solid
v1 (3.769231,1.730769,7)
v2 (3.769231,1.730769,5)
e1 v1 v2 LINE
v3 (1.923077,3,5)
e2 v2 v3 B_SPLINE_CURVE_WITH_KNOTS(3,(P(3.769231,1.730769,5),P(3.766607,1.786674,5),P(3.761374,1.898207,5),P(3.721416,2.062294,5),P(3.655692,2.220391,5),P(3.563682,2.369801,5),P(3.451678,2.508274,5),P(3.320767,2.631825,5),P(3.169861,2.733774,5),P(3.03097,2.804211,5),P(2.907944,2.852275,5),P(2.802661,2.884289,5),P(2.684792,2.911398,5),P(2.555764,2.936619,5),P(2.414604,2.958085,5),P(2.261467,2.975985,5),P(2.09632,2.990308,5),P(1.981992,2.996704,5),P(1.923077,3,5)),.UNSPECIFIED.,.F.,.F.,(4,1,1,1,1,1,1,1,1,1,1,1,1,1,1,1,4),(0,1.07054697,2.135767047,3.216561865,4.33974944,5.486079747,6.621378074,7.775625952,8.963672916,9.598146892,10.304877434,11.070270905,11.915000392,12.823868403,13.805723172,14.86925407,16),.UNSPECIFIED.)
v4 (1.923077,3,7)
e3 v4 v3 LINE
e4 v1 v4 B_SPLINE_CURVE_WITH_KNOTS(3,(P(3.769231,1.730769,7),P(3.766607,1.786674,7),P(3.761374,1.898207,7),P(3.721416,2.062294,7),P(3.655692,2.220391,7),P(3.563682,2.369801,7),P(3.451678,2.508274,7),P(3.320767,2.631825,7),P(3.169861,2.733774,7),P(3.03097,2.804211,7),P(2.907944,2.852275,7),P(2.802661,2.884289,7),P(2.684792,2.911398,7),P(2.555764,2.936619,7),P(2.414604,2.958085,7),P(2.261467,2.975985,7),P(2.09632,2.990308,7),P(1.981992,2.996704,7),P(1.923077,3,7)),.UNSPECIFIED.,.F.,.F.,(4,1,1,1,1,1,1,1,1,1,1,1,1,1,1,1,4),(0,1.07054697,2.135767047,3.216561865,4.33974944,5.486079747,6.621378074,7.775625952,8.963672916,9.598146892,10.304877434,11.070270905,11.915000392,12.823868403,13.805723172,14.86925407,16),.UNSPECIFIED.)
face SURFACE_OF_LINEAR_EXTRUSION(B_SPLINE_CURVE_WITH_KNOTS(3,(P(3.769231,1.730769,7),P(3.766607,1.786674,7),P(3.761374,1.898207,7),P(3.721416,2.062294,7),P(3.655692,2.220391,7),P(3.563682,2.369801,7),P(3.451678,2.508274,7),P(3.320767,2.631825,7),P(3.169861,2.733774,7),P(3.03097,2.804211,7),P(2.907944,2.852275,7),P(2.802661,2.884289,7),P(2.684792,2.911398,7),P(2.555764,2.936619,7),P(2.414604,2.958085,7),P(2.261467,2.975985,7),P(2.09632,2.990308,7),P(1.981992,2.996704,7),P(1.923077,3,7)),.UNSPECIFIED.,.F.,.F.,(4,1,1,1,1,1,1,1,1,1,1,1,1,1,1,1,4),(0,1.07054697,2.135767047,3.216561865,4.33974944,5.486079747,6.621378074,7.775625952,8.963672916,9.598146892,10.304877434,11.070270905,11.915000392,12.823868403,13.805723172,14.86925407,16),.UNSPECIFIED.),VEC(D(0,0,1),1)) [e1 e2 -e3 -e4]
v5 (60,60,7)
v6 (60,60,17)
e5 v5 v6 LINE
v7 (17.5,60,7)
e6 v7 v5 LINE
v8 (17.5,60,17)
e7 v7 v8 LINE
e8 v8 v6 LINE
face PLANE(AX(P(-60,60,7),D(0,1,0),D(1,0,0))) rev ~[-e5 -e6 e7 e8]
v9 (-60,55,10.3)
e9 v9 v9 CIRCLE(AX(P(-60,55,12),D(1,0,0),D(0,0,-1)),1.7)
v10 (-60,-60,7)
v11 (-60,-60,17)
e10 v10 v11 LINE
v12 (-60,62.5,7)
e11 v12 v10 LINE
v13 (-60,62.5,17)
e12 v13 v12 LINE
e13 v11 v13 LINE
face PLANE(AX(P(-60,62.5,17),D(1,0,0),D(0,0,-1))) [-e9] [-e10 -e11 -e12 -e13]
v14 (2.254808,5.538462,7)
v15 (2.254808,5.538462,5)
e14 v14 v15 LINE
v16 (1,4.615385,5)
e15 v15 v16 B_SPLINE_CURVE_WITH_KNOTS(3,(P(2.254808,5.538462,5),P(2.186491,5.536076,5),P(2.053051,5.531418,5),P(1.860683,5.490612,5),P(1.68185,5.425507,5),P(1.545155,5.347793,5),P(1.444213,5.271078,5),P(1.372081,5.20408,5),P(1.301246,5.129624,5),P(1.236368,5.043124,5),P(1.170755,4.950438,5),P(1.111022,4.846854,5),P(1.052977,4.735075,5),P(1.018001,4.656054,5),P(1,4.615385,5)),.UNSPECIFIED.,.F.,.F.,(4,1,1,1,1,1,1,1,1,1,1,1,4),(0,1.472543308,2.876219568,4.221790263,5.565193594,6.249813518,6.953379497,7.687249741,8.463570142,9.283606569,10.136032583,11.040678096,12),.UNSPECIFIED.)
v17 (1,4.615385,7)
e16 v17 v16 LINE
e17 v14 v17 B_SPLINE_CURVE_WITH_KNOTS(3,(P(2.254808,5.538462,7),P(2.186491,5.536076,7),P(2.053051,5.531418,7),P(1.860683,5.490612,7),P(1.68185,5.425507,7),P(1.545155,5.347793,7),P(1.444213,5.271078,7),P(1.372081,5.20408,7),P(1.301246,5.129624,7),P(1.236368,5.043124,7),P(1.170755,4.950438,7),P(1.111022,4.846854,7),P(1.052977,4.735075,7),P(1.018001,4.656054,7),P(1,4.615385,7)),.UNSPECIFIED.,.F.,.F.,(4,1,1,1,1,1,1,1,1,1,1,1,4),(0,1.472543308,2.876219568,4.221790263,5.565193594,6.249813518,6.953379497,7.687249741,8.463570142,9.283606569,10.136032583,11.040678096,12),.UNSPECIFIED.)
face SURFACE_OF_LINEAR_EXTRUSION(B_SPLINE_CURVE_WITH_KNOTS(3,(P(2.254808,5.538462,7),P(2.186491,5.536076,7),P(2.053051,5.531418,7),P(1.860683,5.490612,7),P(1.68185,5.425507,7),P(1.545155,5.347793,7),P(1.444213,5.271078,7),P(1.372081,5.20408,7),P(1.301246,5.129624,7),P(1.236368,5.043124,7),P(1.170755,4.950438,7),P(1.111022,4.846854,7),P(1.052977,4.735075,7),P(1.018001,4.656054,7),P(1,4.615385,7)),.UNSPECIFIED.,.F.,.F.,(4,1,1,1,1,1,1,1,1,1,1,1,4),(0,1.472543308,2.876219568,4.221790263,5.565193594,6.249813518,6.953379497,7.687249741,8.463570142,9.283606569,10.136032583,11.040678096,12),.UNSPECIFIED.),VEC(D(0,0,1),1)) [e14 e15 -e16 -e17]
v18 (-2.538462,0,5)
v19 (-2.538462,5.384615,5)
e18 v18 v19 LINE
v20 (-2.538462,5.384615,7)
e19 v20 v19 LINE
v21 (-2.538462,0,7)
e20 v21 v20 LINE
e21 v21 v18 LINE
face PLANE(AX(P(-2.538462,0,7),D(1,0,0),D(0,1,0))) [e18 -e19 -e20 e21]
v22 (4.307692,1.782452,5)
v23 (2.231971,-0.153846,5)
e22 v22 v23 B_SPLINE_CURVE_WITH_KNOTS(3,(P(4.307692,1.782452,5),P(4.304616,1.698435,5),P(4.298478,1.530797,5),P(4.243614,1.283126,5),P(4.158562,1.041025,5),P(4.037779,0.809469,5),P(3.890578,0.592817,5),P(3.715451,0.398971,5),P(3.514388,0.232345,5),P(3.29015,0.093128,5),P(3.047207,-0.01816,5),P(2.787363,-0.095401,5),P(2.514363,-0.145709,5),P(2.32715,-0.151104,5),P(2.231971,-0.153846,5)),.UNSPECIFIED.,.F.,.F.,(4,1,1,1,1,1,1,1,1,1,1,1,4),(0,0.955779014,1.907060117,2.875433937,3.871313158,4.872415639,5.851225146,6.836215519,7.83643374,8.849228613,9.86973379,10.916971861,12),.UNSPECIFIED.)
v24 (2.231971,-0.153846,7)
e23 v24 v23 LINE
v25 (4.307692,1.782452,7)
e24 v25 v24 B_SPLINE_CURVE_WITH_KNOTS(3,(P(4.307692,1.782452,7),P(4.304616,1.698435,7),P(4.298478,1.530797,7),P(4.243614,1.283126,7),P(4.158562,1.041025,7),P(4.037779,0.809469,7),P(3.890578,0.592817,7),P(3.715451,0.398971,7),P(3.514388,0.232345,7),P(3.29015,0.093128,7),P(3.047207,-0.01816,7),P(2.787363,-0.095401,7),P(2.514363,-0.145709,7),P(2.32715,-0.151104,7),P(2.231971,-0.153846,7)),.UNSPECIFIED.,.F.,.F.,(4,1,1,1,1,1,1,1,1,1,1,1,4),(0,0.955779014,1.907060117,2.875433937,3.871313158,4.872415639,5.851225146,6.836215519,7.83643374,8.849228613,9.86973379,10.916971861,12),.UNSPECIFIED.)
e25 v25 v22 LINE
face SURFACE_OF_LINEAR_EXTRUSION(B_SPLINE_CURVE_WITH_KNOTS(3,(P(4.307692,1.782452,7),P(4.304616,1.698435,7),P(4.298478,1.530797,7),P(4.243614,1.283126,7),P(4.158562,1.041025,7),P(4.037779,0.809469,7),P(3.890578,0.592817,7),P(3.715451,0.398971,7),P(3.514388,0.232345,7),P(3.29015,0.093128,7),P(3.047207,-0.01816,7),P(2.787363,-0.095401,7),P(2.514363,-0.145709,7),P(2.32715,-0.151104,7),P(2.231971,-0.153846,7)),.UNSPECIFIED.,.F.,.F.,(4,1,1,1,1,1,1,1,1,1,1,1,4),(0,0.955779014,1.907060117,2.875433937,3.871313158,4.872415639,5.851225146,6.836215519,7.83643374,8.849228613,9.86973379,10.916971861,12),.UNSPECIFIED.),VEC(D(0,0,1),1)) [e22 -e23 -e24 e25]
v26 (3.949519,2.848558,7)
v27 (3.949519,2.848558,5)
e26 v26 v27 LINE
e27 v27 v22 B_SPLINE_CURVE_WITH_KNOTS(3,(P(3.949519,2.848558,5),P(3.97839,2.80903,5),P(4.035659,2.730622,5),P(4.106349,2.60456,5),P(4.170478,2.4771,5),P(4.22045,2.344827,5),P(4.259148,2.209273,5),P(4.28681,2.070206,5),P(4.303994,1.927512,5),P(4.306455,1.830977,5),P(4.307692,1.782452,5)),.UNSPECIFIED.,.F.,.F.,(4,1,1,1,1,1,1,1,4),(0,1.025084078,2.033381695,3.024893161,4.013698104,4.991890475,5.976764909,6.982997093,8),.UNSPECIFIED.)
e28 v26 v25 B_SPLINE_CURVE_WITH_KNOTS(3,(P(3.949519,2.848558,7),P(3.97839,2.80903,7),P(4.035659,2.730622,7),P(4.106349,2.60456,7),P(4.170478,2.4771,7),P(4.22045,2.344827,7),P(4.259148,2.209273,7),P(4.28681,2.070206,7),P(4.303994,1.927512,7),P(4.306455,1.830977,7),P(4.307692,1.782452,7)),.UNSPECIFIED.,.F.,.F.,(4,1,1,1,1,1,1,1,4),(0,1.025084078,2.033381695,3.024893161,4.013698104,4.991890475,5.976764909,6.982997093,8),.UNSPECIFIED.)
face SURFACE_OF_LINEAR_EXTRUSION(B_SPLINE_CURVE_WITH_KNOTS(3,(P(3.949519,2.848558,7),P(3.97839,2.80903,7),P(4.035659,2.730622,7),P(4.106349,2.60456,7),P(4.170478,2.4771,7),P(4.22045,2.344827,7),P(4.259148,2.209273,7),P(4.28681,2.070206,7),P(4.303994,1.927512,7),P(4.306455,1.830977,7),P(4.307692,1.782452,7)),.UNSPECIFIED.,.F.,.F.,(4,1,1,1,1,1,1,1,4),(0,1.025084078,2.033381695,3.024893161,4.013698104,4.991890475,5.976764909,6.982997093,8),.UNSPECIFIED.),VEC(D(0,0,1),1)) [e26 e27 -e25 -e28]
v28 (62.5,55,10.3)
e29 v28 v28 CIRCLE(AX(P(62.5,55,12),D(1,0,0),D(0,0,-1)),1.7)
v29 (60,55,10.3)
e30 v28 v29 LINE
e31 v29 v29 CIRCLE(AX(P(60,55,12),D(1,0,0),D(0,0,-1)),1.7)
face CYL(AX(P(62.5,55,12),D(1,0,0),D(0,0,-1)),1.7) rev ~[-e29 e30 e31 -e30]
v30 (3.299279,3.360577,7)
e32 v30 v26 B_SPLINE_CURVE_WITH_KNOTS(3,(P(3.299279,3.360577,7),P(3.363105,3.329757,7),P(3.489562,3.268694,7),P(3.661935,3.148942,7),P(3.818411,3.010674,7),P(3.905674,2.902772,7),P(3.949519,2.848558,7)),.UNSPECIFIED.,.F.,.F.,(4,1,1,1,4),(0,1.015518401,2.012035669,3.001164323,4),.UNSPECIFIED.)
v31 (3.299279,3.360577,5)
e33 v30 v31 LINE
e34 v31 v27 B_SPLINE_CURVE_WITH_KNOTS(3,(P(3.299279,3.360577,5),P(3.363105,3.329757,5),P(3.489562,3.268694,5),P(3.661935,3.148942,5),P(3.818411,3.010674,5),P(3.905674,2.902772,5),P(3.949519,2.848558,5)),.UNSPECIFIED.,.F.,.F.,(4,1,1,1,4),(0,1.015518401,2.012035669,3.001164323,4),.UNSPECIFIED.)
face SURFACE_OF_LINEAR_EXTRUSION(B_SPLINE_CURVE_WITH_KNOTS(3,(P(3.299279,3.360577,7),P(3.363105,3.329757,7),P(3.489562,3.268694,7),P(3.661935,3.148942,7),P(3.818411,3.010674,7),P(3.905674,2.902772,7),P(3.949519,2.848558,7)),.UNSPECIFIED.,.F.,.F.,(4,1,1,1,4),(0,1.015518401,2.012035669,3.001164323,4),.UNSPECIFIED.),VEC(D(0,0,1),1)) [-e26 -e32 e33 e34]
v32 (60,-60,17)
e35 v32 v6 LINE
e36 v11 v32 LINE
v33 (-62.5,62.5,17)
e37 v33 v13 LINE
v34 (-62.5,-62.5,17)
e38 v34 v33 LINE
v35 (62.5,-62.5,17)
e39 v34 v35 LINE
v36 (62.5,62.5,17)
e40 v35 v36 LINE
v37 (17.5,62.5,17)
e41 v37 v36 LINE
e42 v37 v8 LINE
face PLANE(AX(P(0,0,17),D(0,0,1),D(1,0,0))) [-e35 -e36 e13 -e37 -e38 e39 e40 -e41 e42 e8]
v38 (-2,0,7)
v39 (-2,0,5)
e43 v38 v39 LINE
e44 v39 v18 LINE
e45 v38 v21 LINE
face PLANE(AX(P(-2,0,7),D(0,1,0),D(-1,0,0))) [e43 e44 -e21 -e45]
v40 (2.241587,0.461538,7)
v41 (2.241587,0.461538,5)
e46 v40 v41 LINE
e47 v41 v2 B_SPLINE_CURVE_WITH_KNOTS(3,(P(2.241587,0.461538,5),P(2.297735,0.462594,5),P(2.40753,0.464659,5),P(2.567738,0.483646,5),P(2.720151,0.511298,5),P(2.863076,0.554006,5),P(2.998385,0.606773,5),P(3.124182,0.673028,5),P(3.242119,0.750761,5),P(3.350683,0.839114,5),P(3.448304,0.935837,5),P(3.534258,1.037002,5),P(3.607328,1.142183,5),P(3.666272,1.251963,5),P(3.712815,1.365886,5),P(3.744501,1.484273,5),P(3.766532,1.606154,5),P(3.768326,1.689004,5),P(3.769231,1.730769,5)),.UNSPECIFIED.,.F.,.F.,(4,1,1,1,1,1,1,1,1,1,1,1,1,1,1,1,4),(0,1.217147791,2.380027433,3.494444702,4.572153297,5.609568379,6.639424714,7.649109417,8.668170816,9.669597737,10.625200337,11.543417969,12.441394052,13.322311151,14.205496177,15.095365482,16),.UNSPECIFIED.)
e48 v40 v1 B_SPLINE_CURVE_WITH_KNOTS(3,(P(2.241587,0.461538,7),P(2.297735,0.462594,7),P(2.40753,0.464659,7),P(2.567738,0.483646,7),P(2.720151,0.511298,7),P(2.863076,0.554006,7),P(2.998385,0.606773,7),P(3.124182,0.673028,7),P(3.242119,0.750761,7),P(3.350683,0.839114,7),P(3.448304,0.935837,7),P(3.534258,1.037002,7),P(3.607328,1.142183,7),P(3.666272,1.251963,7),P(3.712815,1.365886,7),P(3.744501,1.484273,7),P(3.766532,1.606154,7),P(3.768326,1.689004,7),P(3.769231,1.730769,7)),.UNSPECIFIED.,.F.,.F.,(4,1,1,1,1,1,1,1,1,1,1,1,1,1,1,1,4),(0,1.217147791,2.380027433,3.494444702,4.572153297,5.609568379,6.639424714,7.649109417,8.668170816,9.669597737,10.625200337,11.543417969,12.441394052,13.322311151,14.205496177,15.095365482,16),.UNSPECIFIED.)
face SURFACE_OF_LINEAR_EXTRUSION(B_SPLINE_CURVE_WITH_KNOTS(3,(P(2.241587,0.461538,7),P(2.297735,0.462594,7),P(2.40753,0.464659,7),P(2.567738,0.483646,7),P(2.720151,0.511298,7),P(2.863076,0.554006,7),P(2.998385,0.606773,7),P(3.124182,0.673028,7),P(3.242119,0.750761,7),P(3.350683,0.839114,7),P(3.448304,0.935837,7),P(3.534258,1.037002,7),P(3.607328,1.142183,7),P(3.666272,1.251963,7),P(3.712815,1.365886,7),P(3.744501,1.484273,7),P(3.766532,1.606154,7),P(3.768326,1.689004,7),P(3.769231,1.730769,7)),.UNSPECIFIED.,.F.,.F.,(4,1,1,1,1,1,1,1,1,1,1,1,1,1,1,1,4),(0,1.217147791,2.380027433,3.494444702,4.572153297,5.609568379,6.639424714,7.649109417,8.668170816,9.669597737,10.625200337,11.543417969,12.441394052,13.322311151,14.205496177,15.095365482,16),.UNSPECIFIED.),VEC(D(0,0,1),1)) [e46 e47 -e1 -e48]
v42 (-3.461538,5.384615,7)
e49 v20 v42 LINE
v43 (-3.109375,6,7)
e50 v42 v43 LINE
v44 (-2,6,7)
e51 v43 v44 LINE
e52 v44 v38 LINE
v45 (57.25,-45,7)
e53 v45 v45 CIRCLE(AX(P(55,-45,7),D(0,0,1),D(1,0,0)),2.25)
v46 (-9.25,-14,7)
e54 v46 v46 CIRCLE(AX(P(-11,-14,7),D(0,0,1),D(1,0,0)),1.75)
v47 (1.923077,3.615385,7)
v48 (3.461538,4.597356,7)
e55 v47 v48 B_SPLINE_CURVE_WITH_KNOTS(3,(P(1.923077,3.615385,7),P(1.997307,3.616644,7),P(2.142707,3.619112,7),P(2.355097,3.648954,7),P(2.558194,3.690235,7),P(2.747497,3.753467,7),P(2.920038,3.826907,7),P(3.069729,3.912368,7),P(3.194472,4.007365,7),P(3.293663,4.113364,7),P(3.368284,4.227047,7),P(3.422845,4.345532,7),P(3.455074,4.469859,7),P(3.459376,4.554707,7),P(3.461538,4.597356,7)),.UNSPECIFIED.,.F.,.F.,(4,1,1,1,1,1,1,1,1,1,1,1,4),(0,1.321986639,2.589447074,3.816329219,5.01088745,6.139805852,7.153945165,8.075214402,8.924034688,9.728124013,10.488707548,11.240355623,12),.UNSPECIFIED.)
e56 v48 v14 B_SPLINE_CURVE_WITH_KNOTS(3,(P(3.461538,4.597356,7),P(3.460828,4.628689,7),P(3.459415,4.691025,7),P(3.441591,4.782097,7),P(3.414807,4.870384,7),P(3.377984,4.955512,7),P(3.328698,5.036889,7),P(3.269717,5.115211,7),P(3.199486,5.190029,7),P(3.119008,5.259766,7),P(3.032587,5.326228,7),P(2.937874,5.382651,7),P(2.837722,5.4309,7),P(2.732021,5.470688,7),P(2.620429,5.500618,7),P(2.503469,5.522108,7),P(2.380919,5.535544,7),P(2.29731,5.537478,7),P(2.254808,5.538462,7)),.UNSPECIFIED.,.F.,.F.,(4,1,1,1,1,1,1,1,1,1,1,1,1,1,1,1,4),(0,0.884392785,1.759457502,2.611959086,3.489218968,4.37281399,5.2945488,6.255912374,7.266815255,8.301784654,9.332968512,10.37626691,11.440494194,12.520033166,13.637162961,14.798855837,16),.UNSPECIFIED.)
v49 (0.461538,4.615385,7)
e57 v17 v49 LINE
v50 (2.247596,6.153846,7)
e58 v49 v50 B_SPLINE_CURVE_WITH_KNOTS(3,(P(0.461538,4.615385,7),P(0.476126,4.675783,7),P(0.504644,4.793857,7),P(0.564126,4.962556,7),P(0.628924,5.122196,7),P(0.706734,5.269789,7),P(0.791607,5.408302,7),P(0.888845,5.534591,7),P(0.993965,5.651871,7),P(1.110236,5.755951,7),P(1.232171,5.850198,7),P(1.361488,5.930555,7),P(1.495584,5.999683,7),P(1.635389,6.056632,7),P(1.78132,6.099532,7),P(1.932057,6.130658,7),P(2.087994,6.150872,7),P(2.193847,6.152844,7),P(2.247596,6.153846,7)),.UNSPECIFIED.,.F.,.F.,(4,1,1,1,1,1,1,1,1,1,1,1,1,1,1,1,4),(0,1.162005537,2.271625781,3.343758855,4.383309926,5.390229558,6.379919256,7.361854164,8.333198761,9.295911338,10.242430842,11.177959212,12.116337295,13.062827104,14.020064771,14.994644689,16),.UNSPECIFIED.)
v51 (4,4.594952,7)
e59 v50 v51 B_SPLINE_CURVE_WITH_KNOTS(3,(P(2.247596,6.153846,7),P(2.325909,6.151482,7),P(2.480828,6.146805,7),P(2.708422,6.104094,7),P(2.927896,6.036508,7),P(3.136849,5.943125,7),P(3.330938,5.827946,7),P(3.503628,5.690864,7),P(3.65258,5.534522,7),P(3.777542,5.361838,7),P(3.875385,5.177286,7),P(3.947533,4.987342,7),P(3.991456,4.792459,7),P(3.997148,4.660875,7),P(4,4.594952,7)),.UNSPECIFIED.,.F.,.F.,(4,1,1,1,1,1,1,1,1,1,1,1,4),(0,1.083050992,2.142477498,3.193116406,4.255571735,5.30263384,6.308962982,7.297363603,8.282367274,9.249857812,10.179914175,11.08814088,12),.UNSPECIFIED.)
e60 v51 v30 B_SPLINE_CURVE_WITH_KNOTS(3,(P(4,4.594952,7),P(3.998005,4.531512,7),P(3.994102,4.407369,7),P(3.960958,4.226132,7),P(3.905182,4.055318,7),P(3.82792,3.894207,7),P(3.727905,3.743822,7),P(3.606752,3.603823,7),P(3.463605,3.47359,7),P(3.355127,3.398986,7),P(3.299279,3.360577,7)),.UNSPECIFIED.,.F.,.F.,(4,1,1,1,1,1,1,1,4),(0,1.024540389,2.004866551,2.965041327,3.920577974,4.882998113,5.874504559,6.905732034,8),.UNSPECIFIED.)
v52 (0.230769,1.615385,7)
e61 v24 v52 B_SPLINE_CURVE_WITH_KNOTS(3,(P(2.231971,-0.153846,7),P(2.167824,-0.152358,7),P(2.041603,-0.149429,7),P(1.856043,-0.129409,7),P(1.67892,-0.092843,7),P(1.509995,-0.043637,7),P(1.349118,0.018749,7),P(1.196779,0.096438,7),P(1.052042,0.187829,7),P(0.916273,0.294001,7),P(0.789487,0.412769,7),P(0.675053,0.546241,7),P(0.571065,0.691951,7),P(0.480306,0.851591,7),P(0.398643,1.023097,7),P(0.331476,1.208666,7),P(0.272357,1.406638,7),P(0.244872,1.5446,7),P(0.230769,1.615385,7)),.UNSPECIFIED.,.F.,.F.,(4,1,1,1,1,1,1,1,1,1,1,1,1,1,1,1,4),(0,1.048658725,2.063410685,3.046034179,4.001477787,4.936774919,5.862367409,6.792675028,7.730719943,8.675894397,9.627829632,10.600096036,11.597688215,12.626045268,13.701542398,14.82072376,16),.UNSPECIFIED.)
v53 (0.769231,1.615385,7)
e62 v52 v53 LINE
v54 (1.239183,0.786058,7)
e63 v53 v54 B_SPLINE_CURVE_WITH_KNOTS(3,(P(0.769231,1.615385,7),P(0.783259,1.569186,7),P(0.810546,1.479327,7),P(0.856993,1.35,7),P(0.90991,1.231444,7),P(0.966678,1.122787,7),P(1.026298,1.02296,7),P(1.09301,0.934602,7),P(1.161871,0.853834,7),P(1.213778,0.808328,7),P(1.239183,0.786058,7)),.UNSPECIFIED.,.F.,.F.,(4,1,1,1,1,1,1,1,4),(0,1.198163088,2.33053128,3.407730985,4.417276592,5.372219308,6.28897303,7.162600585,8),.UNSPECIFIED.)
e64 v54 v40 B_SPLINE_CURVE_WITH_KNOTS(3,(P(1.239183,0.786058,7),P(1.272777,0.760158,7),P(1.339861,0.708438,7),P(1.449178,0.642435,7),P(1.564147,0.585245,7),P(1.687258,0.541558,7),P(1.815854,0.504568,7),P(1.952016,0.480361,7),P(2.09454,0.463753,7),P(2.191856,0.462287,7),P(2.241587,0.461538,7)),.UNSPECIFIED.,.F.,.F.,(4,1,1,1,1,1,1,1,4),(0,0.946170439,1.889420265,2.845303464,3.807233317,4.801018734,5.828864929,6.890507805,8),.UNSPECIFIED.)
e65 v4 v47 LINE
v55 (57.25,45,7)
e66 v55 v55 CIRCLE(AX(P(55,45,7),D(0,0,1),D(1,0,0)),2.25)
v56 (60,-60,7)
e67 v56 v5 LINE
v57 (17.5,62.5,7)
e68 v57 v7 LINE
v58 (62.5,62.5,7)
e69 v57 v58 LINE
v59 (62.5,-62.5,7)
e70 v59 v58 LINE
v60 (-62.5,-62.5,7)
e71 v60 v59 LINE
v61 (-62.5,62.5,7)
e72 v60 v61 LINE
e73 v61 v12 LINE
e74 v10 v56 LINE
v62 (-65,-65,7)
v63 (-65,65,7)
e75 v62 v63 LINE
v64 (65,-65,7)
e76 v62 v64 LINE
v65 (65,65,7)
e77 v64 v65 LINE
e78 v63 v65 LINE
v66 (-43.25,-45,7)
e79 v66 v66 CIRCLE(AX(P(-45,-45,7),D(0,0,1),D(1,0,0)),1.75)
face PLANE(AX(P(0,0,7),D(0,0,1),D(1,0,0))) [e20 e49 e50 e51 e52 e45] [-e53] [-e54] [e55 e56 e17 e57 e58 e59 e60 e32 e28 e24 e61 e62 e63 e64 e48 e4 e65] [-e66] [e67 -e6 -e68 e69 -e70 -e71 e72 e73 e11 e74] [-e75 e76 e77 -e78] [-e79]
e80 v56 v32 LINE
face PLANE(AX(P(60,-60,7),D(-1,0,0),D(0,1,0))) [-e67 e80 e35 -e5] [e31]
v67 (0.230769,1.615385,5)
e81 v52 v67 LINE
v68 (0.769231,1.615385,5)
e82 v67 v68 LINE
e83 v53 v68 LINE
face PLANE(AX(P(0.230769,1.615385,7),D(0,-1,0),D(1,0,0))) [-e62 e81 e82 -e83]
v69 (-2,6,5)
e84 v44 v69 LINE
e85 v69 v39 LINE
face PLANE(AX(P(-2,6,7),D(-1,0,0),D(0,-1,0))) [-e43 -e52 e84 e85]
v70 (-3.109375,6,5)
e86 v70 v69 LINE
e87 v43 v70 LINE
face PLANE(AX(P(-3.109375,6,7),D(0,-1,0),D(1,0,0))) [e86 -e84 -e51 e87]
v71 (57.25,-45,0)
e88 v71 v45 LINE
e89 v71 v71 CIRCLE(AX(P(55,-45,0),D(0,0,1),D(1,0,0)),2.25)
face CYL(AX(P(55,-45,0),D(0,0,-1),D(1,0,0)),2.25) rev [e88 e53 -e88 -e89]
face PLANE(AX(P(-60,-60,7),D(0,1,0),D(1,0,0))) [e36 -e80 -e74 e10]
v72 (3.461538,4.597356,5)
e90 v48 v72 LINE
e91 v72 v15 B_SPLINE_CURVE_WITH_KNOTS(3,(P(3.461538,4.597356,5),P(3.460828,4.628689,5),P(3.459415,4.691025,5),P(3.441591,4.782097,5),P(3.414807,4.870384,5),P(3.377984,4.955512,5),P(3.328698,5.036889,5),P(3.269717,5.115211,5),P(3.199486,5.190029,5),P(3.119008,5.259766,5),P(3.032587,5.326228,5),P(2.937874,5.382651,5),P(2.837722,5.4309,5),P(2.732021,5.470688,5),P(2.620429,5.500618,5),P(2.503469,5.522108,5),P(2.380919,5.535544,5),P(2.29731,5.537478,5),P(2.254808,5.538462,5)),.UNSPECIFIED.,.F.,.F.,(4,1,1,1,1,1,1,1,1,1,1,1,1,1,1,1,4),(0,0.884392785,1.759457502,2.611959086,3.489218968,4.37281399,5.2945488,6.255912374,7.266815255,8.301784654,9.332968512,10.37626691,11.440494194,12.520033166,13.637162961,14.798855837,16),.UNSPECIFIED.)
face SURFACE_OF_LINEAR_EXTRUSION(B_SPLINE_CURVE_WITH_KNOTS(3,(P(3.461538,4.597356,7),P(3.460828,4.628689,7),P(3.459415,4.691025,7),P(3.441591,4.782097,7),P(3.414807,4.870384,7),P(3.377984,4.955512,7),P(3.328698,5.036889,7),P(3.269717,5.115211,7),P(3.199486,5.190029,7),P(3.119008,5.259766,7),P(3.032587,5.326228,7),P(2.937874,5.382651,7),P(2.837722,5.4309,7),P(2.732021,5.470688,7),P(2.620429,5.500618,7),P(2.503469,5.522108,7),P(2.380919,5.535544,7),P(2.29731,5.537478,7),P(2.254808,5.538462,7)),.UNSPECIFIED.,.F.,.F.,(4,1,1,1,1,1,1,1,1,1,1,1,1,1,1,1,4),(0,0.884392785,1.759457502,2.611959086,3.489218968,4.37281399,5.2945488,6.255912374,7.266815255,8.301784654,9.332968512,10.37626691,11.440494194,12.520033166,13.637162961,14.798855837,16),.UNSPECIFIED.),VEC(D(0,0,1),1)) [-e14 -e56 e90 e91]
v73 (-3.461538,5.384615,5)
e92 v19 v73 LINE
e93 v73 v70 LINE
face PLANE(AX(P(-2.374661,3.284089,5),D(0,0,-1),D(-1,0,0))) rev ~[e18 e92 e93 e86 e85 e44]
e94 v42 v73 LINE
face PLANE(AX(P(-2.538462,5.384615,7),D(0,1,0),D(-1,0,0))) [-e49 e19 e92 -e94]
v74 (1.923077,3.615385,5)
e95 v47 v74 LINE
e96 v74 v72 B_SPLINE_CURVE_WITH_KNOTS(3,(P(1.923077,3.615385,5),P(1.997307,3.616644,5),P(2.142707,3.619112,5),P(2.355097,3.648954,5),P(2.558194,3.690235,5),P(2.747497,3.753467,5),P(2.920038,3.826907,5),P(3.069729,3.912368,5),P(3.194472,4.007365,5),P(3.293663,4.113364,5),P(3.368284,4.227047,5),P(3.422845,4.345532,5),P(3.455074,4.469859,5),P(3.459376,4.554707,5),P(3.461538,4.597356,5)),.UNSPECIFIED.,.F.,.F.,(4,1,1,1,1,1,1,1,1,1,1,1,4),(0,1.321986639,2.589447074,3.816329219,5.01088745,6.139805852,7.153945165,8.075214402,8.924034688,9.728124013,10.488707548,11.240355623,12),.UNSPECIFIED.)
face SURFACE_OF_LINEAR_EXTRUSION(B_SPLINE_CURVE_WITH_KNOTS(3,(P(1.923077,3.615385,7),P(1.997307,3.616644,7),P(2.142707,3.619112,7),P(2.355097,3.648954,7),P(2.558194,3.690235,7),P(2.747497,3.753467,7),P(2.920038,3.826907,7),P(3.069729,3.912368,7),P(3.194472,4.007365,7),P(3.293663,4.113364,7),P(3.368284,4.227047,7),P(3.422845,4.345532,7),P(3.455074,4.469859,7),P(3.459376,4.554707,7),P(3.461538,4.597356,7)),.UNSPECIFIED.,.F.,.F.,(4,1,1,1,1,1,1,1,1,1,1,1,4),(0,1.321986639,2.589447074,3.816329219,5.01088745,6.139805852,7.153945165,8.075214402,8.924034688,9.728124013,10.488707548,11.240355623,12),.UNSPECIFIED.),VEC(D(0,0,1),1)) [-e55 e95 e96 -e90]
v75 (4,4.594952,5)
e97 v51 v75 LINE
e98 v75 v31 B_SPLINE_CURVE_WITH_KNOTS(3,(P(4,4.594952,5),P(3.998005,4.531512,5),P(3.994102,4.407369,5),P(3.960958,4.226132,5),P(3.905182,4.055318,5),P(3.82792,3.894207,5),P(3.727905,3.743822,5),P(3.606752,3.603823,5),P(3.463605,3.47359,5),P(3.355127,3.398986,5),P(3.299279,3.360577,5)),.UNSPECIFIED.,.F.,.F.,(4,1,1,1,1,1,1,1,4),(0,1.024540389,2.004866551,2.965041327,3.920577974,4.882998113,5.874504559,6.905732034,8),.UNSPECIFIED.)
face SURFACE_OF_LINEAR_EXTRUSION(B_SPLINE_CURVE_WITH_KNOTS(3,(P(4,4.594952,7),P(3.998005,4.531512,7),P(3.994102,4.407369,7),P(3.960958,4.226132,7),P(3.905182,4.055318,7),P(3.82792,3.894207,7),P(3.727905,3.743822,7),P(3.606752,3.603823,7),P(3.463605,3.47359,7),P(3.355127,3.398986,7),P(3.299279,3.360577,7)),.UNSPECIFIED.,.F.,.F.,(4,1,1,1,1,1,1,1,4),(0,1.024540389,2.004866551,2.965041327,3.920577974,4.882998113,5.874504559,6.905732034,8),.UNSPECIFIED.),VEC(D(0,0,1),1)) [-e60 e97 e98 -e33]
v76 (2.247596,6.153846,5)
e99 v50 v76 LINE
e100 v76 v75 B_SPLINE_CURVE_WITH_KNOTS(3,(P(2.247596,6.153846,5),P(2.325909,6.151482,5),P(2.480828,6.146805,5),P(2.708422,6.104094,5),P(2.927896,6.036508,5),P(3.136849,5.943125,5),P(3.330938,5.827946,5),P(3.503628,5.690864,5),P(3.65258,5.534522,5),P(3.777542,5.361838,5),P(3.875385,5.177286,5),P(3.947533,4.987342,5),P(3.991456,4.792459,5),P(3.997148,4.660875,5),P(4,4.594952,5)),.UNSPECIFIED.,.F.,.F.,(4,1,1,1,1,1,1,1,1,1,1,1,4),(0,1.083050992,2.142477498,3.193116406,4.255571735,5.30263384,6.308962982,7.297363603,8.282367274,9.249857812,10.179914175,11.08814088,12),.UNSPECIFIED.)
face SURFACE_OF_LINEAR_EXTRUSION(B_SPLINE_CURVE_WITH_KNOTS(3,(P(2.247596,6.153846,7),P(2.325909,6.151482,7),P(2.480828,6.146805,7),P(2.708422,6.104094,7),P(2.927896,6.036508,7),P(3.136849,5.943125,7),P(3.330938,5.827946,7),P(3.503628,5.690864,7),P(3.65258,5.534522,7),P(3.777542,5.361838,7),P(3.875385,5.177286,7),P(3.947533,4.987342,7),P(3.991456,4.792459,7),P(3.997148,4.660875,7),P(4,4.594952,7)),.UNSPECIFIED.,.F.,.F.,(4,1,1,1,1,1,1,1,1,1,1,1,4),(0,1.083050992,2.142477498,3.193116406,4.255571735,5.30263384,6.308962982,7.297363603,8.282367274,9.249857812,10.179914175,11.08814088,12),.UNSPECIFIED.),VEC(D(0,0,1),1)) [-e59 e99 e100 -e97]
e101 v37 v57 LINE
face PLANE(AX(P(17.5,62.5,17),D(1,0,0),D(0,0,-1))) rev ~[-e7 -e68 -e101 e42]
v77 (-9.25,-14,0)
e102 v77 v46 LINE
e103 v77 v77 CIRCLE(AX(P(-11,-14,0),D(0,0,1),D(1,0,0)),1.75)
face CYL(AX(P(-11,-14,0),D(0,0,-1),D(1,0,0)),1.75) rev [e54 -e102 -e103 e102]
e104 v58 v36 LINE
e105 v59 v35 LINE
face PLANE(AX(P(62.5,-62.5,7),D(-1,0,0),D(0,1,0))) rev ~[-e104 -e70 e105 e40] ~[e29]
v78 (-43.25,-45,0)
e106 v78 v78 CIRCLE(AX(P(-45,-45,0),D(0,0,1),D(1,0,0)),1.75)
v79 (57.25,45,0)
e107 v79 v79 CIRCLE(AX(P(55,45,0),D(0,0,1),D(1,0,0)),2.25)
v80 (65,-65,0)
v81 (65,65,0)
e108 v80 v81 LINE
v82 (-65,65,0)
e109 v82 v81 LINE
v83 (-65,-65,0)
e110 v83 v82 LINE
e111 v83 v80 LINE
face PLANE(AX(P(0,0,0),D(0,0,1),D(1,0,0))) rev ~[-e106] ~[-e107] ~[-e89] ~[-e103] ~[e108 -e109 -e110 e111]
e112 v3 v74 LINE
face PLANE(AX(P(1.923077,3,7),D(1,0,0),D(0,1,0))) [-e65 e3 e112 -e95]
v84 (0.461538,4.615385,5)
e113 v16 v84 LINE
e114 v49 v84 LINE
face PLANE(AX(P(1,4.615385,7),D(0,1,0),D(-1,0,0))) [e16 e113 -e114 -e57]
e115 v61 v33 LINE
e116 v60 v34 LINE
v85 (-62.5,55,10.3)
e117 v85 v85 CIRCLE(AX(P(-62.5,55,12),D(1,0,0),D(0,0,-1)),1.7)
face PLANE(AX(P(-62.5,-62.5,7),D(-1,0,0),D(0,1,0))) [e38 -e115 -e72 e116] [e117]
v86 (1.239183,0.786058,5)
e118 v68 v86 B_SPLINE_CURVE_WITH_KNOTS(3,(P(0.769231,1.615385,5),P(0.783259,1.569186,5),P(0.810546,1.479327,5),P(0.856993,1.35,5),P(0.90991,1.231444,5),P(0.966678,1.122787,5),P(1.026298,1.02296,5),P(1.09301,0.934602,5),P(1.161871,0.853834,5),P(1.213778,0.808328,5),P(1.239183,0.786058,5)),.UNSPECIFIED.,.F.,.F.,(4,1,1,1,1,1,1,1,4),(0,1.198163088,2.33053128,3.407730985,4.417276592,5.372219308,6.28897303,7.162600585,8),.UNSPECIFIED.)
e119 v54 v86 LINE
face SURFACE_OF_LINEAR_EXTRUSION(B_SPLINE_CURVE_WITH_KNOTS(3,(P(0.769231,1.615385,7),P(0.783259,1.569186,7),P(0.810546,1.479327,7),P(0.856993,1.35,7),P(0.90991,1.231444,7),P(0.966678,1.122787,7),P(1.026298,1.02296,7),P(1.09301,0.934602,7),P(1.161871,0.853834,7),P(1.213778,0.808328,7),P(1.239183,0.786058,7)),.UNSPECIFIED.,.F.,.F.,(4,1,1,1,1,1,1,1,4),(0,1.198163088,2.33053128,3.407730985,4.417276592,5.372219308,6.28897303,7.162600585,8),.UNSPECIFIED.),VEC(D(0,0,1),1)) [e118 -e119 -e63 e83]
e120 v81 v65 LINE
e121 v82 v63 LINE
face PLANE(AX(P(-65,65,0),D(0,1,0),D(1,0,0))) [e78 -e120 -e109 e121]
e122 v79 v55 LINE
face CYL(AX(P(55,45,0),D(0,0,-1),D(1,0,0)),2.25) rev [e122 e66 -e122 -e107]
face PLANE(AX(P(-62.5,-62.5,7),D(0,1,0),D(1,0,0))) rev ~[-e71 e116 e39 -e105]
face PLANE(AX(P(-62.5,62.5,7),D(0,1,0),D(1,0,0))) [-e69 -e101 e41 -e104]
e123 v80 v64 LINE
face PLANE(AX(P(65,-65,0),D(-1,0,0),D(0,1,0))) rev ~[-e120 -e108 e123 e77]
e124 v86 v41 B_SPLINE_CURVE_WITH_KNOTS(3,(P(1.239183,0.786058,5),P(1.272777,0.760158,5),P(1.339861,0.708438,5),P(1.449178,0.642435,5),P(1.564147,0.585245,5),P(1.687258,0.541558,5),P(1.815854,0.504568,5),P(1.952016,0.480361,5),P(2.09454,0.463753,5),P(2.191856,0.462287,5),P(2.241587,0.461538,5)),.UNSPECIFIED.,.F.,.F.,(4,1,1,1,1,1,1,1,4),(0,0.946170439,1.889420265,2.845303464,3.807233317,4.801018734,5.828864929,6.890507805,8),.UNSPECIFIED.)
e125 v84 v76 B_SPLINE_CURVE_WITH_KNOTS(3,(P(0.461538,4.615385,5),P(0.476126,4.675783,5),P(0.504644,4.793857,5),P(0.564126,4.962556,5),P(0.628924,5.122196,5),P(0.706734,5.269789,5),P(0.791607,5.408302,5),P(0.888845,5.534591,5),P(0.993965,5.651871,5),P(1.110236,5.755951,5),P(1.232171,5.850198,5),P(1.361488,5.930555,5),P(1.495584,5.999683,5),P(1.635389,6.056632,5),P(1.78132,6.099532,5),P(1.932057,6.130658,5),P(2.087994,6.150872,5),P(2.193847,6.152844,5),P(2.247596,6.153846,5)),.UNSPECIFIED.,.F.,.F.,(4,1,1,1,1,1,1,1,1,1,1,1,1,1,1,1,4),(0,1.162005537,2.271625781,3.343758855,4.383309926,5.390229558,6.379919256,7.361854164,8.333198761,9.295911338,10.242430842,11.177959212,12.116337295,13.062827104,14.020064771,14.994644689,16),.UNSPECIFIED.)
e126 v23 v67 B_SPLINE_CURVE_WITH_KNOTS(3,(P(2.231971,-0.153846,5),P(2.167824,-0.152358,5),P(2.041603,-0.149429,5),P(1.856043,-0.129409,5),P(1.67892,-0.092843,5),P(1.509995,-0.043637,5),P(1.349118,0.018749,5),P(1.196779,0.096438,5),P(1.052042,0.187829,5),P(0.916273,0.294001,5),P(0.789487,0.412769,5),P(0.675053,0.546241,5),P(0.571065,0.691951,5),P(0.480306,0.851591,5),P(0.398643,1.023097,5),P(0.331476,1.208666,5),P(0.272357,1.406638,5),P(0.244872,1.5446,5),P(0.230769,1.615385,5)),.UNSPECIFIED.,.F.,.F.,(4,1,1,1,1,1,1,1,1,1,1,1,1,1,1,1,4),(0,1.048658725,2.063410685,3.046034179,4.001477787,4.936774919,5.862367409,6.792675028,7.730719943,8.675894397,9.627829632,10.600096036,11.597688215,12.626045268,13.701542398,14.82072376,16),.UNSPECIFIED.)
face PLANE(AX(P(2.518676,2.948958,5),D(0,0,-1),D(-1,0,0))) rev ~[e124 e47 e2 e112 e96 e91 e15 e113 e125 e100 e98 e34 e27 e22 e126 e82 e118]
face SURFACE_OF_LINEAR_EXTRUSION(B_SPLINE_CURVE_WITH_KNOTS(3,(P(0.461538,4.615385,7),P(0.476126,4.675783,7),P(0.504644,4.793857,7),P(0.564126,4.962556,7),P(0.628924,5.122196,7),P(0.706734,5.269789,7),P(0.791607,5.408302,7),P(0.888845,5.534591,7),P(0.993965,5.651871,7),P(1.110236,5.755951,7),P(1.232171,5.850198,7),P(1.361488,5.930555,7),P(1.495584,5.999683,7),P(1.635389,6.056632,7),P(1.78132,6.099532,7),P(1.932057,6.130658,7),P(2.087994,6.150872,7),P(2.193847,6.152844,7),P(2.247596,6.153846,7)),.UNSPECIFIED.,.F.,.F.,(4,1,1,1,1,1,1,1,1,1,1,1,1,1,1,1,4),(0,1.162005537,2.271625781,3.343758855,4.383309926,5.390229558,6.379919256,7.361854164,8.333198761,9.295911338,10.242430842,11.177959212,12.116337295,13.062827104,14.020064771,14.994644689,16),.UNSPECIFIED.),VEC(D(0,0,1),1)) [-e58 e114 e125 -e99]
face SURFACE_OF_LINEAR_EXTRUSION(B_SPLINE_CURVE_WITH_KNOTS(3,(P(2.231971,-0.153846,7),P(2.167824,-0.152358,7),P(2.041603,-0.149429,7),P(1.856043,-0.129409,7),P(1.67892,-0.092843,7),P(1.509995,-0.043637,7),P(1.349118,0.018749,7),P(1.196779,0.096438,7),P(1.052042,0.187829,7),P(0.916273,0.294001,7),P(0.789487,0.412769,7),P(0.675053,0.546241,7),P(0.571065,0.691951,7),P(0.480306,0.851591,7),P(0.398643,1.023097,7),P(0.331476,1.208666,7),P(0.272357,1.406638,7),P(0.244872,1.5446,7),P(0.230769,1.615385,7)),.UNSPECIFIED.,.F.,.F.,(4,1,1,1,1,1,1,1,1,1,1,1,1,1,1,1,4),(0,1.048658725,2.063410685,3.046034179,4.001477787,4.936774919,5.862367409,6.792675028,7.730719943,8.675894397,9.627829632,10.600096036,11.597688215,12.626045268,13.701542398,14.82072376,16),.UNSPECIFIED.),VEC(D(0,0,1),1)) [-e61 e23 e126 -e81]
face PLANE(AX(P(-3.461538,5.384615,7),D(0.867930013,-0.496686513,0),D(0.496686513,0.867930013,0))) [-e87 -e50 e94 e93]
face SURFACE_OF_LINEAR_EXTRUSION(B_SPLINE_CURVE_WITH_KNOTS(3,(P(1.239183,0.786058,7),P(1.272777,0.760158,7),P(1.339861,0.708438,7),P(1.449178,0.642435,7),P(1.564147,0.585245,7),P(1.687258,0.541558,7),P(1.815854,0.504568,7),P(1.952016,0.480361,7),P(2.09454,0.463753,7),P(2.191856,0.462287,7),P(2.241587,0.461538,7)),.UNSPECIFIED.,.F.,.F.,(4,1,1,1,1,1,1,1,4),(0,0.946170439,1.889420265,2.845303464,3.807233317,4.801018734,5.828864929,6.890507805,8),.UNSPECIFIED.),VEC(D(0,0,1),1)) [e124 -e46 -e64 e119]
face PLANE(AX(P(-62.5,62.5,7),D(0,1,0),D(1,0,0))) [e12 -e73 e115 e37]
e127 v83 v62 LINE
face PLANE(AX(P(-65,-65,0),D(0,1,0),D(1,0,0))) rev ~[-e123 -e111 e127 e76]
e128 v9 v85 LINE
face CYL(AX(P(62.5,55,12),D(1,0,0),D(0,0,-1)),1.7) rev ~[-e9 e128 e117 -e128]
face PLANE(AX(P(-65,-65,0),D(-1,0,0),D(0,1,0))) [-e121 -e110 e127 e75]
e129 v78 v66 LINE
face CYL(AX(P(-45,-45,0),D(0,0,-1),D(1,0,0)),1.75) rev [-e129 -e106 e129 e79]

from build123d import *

# Parameters (mm, degrees)
CROQUIS1_W              = 130
CROQUIS1_H              = 130
CROQUIS1_R              = 1.75
CROQUIS1_R_2            = 2.25
SALIENTE_EXTRUIR1_DEPTH = 7
CORTAR_EXTRUIR1_DEPTH   = 2
CROQUIS4_W              = 125
CROQUIS4_H              = 125
CROQUIS4_W_2            = 120
CROQUIS4_H_2            = 120
SALIENTE_EXTRUIR2_DEPTH = 10
CROQUIS6_R              = 1.7
CORTAR_EXTRUIR2_DEPTH   = 145.118874545
CORTAR_EXTRUIR3_REACH   = 146.119
CROQUIS7_W              = 77.5
CROQUIS7_H              = 10


with BuildPart() as part:
    # Croquis1 → Saliente-Extruir1 (new body)
    with BuildSketch(Plane.XY):
        Rectangle(CROQUIS1_W, CROQUIS1_H)
        with Locations((-11, -14)):
            Circle(CROQUIS1_R, mode=Mode.SUBTRACT)
        with Locations((-45, -45)):
            Circle(CROQUIS1_R, mode=Mode.SUBTRACT)
        with Locations((55, 45)):
            Circle(CROQUIS1_R_2, mode=Mode.SUBTRACT)
        with Locations((55, -45)):
            Circle(CROQUIS1_R_2, mode=Mode.SUBTRACT)
    extrude(amount=SALIENTE_EXTRUIR1_DEPTH)

    # Croquis2 → Cortar-Extruir1 (cut)
    with BuildSketch(Plane.XY.offset(7)):
        Polygon((-3.109375, 6), (-2, 6), (-2, 0), (-2.538461538, 0), (-2.538461538, 5.384615385), (-3.461538462, 5.384615385), align=None)
        with BuildLine():
            Line((1, 4.615384615), (0.461538462, 4.615384615))
            add(Edge.make_bspline(
                [(0.461538462, 4.615384615), (0.476126263, 4.675783159), (0.504644221, 4.793857373), (0.564125775, 4.962555534), (0.628924499, 5.122195856), (0.706734392, 5.269789126), (0.791606542, 5.40830153), (0.888845493, 5.534591458), (0.993965018, 5.651870827), (1.110236359, 5.755950663), (1.232171208, 5.850198199), (1.361487699, 5.93055544), (1.495584088, 5.999682559), (1.635389459, 6.056631528), (1.781320039, 6.099532426), (1.932056536, 6.130658378), (2.087993965, 6.150871717), (2.193846977, 6.152844454), (2.247596154, 6.153846154)],
                knots=[0, 0, 0, 0, 1.162005537, 2.271625781, 3.343758855, 4.383309926, 5.390229558, 6.379919256, 7.361854164, 8.333198761, 9.295911338, 10.242430842, 11.177959212, 12.116337295, 13.062827104, 14.020064771, 14.994644689, 16, 16, 16, 16], degree=3))
            add(Edge.make_bspline(
                [(2.247596154, 6.153846154), (2.325909426, 6.151481759), (2.48082773, 6.146804544), (2.708421525, 6.104094082), (2.927896072, 6.03650814), (3.136849069, 5.943124608), (3.33093781, 5.827946357), (3.503628416, 5.690863951), (3.652580149, 5.534522291), (3.777541939, 5.361837895), (3.875384795, 5.177285593), (3.947532863, 4.987342467), (3.991455745, 4.792459087), (3.997148128, 4.66087518), (4, 4.594951923)],
                knots=[0, 0, 0, 0, 1.083050992, 2.142477498, 3.193116406, 4.255571735, 5.30263384, 6.308962982, 7.297363603, 8.282367274, 9.249857812, 10.179914175, 11.08814088, 12, 12, 12, 12], degree=3))
            add(Edge.make_bspline(
                [(4, 4.594951923), (3.998005272, 4.531511704), (3.9941019, 4.407369039), (3.960958405, 4.226132187), (3.905181954, 4.055318015), (3.827919504, 3.894207451), (3.727905418, 3.743822011), (3.606752223, 3.603823341), (3.463604803, 3.473590499), (3.355126624, 3.398985688), (3.299278846, 3.360576923)],
                knots=[0, 0, 0, 0, 1.024540389, 2.004866551, 2.965041327, 3.920577974, 4.882998113, 5.874504559, 6.905732034, 8, 8, 8, 8], degree=3))
            add(Edge.make_bspline(
                [(3.299278846, 3.360576923), (3.363104711, 3.3297572), (3.48956221, 3.268694416), (3.661934546, 3.148941689), (3.818410904, 3.010673665), (3.905674422, 2.902771974), (3.949519231, 2.848557692)],
                knots=[0, 0, 0, 0, 1.015518401, 2.012035669, 3.001164323, 4, 4, 4, 4], degree=3))
            add(Edge.make_bspline(
                [(3.949519231, 2.848557692), (3.978390103, 2.809030118), (4.035659068, 2.730622261), (4.106348554, 2.604559817), (4.170478465, 2.477100121), (4.220450269, 2.344826853), (4.259148327, 2.209273116), (4.286810096, 2.070206151), (4.303994338, 1.927512398), (4.306455284, 1.830976718), (4.307692308, 1.782451923)],
                knots=[0, 0, 0, 0, 1.025084078, 2.033381695, 3.024893161, 4.013698104, 4.991890475, 5.976764909, 6.982997093, 8, 8, 8, 8], degree=3))
            add(Edge.make_bspline(
                [(4.307692308, 1.782451923), (4.304615999, 1.698435258), (4.298477858, 1.530797312), (4.243613731, 1.283126361), (4.158562461, 1.0410255), (4.037779142, 0.809468632), (3.890577699, 0.592816551), (3.715450857, 0.39897145), (3.514388443, 0.232345271), (3.290150187, 0.093127737), (3.047206539, -0.01816013), (2.787362667, -0.09540146), (2.514362574, -0.145708888), (2.327150064, -0.151103521), (2.231971154, -0.153846154)],
                knots=[0, 0, 0, 0, 0.955779014, 1.907060117, 2.875433937, 3.871313158, 4.872415639, 5.851225146, 6.836215519, 7.83643374, 8.849228613, 9.86973379, 10.916971861, 12, 12, 12, 12], degree=3))
            add(Edge.make_bspline(
                [(2.231971154, -0.153846154), (2.167823782, -0.152357788), (2.041603145, -0.149429181), (1.856042862, -0.129408722), (1.678919949, -0.092842999), (1.509994924, -0.043637332), (1.349117718, 0.018748511), (1.196779252, 0.096437708), (1.052042292, 0.187828854), (0.916272662, 0.294000719), (0.789486545, 0.41276873), (0.675053304, 0.546241319), (0.571065087, 0.691951154), (0.480306278, 0.851590679), (0.398642931, 1.023096834), (0.331475577, 1.208665688), (0.272357459, 1.406638298), (0.24487152, 1.544600138), (0.230769231, 1.615384615)],
                knots=[0, 0, 0, 0, 1.048658725, 2.063410685, 3.046034179, 4.001477787, 4.936774919, 5.862367409, 6.792675028, 7.730719943, 8.675894397, 9.627829632, 10.600096036, 11.597688215, 12.626045268, 13.701542398, 14.82072376, 16, 16, 16, 16], degree=3))
            Line((0.230769231, 1.615384615), (0.769230769, 1.615384615))
            add(Edge.make_bspline(
                [(0.769230769, 1.615384615), (0.783259269, 1.569186307), (0.810545919, 1.479326584), (0.856993287, 1.350000346), (0.909910325, 1.231443683), (0.96667814, 1.122786903), (1.026298333, 1.022959927), (1.093009633, 0.934602437), (1.161871025, 0.853833519), (1.213778488, 0.80832847), (1.239182692, 0.786057692)],
                knots=[0, 0, 0, 0, 1.198163088, 2.33053128, 3.407730985, 4.417276592, 5.372219308, 6.28897303, 7.162600585, 8, 8, 8, 8], degree=3))
            add(Edge.make_bspline(
                [(1.239182692, 0.786057692), (1.272776823, 0.760157691), (1.339861388, 0.708437637), (1.449178356, 0.642434845), (1.564146732, 0.585244516), (1.687257602, 0.54155818), (1.815854352, 0.504567905), (1.952015549, 0.480361301), (2.094539921, 0.463753007), (2.191856087, 0.46228741), (2.241586538, 0.461538462)],
                knots=[0, 0, 0, 0, 0.946170439, 1.889420265, 2.845303464, 3.807233317, 4.801018734, 5.828864929, 6.890507805, 8, 8, 8, 8], degree=3))
            add(Edge.make_bspline(
                [(2.241586538, 0.461538462), (2.2977354, 0.462594299), (2.407529652, 0.464658898), (2.567737982, 0.483645824), (2.72015075, 0.511297962), (2.863075765, 0.554005932), (2.998385206, 0.606773106), (3.12418232, 0.673027515), (3.242118502, 0.750761324), (3.350683197, 0.839114167), (3.448304067, 0.93583673), (3.534257518, 1.037001995), (3.607328367, 1.142183417), (3.666271643, 1.251963053), (3.712815444, 1.365886303), (3.744500931, 1.484272867), (3.766532099, 1.606153895), (3.768326292, 1.689003556), (3.769230769, 1.730769231)],
                knots=[0, 0, 0, 0, 1.217147791, 2.380027433, 3.494444702, 4.572153297, 5.609568379, 6.639424714, 7.649109417, 8.668170816, 9.669597737, 10.625200337, 11.543417969, 12.441394052, 13.322311151, 14.205496177, 15.095365482, 16, 16, 16, 16], degree=3))
            add(Edge.make_bspline(
                [(3.769230769, 1.730769231), (3.766607395, 1.786674383), (3.761373701, 1.898206512), (3.721416136, 2.062293782), (3.655692369, 2.22039106), (3.563682349, 2.369800986), (3.451678243, 2.50827396), (3.320766974, 2.631825073), (3.16986144, 2.7337738), (3.030970236, 2.804211497), (2.907944253, 2.852275055), (2.802660737, 2.884289279), (2.684792274, 2.911398403), (2.555764247, 2.93661944), (2.414604448, 2.958084609), (2.261466554, 2.975984864), (2.096319534, 2.990307791), (1.981991821, 2.996703955), (1.923076923, 3)],
                knots=[0, 0, 0, 0, 1.07054697, 2.135767047, 3.216561865, 4.33974944, 5.486079747, 6.621378074, 7.775625952, 8.963672916, 9.598146892, 10.304877434, 11.070270905, 11.915000392, 12.823868403, 13.805723172, 14.86925407, 16, 16, 16, 16], degree=3))
            Line((1.923076923, 3), (1.923076923, 3.615384615))
            add(Edge.make_bspline(
                [(1.923076923, 3.615384615), (1.997307493, 3.616644279), (2.142706944, 3.61911165), (2.355097181, 3.648953954), (2.558194287, 3.690235031), (2.747497274, 3.753466789), (2.920037925, 3.826907298), (3.069728672, 3.912368228), (3.194472353, 4.007364941), (3.293662761, 4.1133637), (3.368284296, 4.227046639), (3.42284452, 4.345532337), (3.455073651, 4.469859299), (3.459375937, 4.554707301), (3.461538462, 4.597355769)],
                knots=[0, 0, 0, 0, 1.321986639, 2.589447074, 3.816329219, 5.01088745, 6.139805852, 7.153945165, 8.075214402, 8.924034688, 9.728124013, 10.488707548, 11.240355623, 12, 12, 12, 12], degree=3))
            add(Edge.make_bspline(
                [(3.461538462, 4.597355769), (3.460828043, 4.628689047), (3.459414698, 4.691025116), (3.441590793, 4.782096662), (3.414806723, 4.870383998), (3.37798433, 4.955511673), (3.328698275, 5.036889285), (3.269716584, 5.115210626), (3.199485555, 5.190028533), (3.119007646, 5.259766224), (3.032587409, 5.326227773), (2.937873509, 5.382651151), (2.837721723, 5.430899829), (2.732021172, 5.470687547), (2.620428835, 5.500617755), (2.503469021, 5.522107769), (2.380918707, 5.535543748), (2.297310023, 5.537478176), (2.254807692, 5.538461538)],
                knots=[0, 0, 0, 0, 0.884392785, 1.759457502, 2.611959086, 3.489218968, 4.37281399, 5.2945488, 6.255912374, 7.266815255, 8.301784654, 9.332968512, 10.37626691, 11.440494194, 12.520033166, 13.637162961, 14.798855837, 16, 16, 16, 16], degree=3))
            add(Edge.make_bspline(
                [(2.254807692, 5.538461538), (2.186490547, 5.536076346), (2.053051273, 5.531417512), (1.860682844, 5.490612346), (1.6818497, 5.42550706), (1.545154843, 5.347793312), (1.444213288, 5.271078283), (1.372081394, 5.204079906), (1.301246233, 5.129623637), (1.23636793, 5.043123565), (1.170755398, 4.950437639), (1.111021864, 4.846854185), (1.052976678, 4.735075223), (1.018000878, 4.656054136), (1, 4.615384615)],
                knots=[0, 0, 0, 0, 1.472543308, 2.876219568, 4.221790263, 5.565193594, 6.249813518, 6.953379497, 7.687249741, 8.463570142, 9.283606569, 10.136032583, 11.040678096, 12, 12, 12, 12], degree=3))
        make_face()
    extrude(amount=-CORTAR_EXTRUIR1_DEPTH, mode=Mode.SUBTRACT)

    # Croquis4 → Saliente-Extruir2 (add)
    with BuildSketch(Plane.XY.offset(7)):
        Rectangle(CROQUIS4_W, CROQUIS4_H)
        Rectangle(CROQUIS4_W_2, CROQUIS4_H_2, mode=Mode.SUBTRACT)
    extrude(amount=SALIENTE_EXTRUIR2_DEPTH)

    # Croquis6 → Cortar-Extruir2 (cut, through all)
    with BuildSketch(Plane(origin=(62.5, 0, 0), x_dir=(0, 0, -1), z_dir=(1, 0, 0))):
        with Locations((-12, 55)):
            Circle(CROQUIS6_R)
    extrude(amount=-CORTAR_EXTRUIR2_DEPTH, mode=Mode.SUBTRACT)

    # Croquis7 → Cortar-Extruir3 (cut, up to next)
    with BuildSketch(Plane(origin=(0, 62.5, 0), x_dir=(1, 0, 0), z_dir=(0, 1, 0)), mode=Mode.PRIVATE) as cortar_extruir3_sk1:
        with Locations((-21.25, -12)):
            Rectangle(CROQUIS7_W, CROQUIS7_H)
    cortar_extruir3_tool1 = extrude(cortar_extruir3_sk1.sketch, amount=-CORTAR_EXTRUIR3_REACH, mode=Mode.PRIVATE) & part.part
    add(cortar_extruir3_tool1.solids().sort_by_distance((-21.25, 62.5, 12))[0], mode=Mode.SUBTRACT)


solid = part.part
